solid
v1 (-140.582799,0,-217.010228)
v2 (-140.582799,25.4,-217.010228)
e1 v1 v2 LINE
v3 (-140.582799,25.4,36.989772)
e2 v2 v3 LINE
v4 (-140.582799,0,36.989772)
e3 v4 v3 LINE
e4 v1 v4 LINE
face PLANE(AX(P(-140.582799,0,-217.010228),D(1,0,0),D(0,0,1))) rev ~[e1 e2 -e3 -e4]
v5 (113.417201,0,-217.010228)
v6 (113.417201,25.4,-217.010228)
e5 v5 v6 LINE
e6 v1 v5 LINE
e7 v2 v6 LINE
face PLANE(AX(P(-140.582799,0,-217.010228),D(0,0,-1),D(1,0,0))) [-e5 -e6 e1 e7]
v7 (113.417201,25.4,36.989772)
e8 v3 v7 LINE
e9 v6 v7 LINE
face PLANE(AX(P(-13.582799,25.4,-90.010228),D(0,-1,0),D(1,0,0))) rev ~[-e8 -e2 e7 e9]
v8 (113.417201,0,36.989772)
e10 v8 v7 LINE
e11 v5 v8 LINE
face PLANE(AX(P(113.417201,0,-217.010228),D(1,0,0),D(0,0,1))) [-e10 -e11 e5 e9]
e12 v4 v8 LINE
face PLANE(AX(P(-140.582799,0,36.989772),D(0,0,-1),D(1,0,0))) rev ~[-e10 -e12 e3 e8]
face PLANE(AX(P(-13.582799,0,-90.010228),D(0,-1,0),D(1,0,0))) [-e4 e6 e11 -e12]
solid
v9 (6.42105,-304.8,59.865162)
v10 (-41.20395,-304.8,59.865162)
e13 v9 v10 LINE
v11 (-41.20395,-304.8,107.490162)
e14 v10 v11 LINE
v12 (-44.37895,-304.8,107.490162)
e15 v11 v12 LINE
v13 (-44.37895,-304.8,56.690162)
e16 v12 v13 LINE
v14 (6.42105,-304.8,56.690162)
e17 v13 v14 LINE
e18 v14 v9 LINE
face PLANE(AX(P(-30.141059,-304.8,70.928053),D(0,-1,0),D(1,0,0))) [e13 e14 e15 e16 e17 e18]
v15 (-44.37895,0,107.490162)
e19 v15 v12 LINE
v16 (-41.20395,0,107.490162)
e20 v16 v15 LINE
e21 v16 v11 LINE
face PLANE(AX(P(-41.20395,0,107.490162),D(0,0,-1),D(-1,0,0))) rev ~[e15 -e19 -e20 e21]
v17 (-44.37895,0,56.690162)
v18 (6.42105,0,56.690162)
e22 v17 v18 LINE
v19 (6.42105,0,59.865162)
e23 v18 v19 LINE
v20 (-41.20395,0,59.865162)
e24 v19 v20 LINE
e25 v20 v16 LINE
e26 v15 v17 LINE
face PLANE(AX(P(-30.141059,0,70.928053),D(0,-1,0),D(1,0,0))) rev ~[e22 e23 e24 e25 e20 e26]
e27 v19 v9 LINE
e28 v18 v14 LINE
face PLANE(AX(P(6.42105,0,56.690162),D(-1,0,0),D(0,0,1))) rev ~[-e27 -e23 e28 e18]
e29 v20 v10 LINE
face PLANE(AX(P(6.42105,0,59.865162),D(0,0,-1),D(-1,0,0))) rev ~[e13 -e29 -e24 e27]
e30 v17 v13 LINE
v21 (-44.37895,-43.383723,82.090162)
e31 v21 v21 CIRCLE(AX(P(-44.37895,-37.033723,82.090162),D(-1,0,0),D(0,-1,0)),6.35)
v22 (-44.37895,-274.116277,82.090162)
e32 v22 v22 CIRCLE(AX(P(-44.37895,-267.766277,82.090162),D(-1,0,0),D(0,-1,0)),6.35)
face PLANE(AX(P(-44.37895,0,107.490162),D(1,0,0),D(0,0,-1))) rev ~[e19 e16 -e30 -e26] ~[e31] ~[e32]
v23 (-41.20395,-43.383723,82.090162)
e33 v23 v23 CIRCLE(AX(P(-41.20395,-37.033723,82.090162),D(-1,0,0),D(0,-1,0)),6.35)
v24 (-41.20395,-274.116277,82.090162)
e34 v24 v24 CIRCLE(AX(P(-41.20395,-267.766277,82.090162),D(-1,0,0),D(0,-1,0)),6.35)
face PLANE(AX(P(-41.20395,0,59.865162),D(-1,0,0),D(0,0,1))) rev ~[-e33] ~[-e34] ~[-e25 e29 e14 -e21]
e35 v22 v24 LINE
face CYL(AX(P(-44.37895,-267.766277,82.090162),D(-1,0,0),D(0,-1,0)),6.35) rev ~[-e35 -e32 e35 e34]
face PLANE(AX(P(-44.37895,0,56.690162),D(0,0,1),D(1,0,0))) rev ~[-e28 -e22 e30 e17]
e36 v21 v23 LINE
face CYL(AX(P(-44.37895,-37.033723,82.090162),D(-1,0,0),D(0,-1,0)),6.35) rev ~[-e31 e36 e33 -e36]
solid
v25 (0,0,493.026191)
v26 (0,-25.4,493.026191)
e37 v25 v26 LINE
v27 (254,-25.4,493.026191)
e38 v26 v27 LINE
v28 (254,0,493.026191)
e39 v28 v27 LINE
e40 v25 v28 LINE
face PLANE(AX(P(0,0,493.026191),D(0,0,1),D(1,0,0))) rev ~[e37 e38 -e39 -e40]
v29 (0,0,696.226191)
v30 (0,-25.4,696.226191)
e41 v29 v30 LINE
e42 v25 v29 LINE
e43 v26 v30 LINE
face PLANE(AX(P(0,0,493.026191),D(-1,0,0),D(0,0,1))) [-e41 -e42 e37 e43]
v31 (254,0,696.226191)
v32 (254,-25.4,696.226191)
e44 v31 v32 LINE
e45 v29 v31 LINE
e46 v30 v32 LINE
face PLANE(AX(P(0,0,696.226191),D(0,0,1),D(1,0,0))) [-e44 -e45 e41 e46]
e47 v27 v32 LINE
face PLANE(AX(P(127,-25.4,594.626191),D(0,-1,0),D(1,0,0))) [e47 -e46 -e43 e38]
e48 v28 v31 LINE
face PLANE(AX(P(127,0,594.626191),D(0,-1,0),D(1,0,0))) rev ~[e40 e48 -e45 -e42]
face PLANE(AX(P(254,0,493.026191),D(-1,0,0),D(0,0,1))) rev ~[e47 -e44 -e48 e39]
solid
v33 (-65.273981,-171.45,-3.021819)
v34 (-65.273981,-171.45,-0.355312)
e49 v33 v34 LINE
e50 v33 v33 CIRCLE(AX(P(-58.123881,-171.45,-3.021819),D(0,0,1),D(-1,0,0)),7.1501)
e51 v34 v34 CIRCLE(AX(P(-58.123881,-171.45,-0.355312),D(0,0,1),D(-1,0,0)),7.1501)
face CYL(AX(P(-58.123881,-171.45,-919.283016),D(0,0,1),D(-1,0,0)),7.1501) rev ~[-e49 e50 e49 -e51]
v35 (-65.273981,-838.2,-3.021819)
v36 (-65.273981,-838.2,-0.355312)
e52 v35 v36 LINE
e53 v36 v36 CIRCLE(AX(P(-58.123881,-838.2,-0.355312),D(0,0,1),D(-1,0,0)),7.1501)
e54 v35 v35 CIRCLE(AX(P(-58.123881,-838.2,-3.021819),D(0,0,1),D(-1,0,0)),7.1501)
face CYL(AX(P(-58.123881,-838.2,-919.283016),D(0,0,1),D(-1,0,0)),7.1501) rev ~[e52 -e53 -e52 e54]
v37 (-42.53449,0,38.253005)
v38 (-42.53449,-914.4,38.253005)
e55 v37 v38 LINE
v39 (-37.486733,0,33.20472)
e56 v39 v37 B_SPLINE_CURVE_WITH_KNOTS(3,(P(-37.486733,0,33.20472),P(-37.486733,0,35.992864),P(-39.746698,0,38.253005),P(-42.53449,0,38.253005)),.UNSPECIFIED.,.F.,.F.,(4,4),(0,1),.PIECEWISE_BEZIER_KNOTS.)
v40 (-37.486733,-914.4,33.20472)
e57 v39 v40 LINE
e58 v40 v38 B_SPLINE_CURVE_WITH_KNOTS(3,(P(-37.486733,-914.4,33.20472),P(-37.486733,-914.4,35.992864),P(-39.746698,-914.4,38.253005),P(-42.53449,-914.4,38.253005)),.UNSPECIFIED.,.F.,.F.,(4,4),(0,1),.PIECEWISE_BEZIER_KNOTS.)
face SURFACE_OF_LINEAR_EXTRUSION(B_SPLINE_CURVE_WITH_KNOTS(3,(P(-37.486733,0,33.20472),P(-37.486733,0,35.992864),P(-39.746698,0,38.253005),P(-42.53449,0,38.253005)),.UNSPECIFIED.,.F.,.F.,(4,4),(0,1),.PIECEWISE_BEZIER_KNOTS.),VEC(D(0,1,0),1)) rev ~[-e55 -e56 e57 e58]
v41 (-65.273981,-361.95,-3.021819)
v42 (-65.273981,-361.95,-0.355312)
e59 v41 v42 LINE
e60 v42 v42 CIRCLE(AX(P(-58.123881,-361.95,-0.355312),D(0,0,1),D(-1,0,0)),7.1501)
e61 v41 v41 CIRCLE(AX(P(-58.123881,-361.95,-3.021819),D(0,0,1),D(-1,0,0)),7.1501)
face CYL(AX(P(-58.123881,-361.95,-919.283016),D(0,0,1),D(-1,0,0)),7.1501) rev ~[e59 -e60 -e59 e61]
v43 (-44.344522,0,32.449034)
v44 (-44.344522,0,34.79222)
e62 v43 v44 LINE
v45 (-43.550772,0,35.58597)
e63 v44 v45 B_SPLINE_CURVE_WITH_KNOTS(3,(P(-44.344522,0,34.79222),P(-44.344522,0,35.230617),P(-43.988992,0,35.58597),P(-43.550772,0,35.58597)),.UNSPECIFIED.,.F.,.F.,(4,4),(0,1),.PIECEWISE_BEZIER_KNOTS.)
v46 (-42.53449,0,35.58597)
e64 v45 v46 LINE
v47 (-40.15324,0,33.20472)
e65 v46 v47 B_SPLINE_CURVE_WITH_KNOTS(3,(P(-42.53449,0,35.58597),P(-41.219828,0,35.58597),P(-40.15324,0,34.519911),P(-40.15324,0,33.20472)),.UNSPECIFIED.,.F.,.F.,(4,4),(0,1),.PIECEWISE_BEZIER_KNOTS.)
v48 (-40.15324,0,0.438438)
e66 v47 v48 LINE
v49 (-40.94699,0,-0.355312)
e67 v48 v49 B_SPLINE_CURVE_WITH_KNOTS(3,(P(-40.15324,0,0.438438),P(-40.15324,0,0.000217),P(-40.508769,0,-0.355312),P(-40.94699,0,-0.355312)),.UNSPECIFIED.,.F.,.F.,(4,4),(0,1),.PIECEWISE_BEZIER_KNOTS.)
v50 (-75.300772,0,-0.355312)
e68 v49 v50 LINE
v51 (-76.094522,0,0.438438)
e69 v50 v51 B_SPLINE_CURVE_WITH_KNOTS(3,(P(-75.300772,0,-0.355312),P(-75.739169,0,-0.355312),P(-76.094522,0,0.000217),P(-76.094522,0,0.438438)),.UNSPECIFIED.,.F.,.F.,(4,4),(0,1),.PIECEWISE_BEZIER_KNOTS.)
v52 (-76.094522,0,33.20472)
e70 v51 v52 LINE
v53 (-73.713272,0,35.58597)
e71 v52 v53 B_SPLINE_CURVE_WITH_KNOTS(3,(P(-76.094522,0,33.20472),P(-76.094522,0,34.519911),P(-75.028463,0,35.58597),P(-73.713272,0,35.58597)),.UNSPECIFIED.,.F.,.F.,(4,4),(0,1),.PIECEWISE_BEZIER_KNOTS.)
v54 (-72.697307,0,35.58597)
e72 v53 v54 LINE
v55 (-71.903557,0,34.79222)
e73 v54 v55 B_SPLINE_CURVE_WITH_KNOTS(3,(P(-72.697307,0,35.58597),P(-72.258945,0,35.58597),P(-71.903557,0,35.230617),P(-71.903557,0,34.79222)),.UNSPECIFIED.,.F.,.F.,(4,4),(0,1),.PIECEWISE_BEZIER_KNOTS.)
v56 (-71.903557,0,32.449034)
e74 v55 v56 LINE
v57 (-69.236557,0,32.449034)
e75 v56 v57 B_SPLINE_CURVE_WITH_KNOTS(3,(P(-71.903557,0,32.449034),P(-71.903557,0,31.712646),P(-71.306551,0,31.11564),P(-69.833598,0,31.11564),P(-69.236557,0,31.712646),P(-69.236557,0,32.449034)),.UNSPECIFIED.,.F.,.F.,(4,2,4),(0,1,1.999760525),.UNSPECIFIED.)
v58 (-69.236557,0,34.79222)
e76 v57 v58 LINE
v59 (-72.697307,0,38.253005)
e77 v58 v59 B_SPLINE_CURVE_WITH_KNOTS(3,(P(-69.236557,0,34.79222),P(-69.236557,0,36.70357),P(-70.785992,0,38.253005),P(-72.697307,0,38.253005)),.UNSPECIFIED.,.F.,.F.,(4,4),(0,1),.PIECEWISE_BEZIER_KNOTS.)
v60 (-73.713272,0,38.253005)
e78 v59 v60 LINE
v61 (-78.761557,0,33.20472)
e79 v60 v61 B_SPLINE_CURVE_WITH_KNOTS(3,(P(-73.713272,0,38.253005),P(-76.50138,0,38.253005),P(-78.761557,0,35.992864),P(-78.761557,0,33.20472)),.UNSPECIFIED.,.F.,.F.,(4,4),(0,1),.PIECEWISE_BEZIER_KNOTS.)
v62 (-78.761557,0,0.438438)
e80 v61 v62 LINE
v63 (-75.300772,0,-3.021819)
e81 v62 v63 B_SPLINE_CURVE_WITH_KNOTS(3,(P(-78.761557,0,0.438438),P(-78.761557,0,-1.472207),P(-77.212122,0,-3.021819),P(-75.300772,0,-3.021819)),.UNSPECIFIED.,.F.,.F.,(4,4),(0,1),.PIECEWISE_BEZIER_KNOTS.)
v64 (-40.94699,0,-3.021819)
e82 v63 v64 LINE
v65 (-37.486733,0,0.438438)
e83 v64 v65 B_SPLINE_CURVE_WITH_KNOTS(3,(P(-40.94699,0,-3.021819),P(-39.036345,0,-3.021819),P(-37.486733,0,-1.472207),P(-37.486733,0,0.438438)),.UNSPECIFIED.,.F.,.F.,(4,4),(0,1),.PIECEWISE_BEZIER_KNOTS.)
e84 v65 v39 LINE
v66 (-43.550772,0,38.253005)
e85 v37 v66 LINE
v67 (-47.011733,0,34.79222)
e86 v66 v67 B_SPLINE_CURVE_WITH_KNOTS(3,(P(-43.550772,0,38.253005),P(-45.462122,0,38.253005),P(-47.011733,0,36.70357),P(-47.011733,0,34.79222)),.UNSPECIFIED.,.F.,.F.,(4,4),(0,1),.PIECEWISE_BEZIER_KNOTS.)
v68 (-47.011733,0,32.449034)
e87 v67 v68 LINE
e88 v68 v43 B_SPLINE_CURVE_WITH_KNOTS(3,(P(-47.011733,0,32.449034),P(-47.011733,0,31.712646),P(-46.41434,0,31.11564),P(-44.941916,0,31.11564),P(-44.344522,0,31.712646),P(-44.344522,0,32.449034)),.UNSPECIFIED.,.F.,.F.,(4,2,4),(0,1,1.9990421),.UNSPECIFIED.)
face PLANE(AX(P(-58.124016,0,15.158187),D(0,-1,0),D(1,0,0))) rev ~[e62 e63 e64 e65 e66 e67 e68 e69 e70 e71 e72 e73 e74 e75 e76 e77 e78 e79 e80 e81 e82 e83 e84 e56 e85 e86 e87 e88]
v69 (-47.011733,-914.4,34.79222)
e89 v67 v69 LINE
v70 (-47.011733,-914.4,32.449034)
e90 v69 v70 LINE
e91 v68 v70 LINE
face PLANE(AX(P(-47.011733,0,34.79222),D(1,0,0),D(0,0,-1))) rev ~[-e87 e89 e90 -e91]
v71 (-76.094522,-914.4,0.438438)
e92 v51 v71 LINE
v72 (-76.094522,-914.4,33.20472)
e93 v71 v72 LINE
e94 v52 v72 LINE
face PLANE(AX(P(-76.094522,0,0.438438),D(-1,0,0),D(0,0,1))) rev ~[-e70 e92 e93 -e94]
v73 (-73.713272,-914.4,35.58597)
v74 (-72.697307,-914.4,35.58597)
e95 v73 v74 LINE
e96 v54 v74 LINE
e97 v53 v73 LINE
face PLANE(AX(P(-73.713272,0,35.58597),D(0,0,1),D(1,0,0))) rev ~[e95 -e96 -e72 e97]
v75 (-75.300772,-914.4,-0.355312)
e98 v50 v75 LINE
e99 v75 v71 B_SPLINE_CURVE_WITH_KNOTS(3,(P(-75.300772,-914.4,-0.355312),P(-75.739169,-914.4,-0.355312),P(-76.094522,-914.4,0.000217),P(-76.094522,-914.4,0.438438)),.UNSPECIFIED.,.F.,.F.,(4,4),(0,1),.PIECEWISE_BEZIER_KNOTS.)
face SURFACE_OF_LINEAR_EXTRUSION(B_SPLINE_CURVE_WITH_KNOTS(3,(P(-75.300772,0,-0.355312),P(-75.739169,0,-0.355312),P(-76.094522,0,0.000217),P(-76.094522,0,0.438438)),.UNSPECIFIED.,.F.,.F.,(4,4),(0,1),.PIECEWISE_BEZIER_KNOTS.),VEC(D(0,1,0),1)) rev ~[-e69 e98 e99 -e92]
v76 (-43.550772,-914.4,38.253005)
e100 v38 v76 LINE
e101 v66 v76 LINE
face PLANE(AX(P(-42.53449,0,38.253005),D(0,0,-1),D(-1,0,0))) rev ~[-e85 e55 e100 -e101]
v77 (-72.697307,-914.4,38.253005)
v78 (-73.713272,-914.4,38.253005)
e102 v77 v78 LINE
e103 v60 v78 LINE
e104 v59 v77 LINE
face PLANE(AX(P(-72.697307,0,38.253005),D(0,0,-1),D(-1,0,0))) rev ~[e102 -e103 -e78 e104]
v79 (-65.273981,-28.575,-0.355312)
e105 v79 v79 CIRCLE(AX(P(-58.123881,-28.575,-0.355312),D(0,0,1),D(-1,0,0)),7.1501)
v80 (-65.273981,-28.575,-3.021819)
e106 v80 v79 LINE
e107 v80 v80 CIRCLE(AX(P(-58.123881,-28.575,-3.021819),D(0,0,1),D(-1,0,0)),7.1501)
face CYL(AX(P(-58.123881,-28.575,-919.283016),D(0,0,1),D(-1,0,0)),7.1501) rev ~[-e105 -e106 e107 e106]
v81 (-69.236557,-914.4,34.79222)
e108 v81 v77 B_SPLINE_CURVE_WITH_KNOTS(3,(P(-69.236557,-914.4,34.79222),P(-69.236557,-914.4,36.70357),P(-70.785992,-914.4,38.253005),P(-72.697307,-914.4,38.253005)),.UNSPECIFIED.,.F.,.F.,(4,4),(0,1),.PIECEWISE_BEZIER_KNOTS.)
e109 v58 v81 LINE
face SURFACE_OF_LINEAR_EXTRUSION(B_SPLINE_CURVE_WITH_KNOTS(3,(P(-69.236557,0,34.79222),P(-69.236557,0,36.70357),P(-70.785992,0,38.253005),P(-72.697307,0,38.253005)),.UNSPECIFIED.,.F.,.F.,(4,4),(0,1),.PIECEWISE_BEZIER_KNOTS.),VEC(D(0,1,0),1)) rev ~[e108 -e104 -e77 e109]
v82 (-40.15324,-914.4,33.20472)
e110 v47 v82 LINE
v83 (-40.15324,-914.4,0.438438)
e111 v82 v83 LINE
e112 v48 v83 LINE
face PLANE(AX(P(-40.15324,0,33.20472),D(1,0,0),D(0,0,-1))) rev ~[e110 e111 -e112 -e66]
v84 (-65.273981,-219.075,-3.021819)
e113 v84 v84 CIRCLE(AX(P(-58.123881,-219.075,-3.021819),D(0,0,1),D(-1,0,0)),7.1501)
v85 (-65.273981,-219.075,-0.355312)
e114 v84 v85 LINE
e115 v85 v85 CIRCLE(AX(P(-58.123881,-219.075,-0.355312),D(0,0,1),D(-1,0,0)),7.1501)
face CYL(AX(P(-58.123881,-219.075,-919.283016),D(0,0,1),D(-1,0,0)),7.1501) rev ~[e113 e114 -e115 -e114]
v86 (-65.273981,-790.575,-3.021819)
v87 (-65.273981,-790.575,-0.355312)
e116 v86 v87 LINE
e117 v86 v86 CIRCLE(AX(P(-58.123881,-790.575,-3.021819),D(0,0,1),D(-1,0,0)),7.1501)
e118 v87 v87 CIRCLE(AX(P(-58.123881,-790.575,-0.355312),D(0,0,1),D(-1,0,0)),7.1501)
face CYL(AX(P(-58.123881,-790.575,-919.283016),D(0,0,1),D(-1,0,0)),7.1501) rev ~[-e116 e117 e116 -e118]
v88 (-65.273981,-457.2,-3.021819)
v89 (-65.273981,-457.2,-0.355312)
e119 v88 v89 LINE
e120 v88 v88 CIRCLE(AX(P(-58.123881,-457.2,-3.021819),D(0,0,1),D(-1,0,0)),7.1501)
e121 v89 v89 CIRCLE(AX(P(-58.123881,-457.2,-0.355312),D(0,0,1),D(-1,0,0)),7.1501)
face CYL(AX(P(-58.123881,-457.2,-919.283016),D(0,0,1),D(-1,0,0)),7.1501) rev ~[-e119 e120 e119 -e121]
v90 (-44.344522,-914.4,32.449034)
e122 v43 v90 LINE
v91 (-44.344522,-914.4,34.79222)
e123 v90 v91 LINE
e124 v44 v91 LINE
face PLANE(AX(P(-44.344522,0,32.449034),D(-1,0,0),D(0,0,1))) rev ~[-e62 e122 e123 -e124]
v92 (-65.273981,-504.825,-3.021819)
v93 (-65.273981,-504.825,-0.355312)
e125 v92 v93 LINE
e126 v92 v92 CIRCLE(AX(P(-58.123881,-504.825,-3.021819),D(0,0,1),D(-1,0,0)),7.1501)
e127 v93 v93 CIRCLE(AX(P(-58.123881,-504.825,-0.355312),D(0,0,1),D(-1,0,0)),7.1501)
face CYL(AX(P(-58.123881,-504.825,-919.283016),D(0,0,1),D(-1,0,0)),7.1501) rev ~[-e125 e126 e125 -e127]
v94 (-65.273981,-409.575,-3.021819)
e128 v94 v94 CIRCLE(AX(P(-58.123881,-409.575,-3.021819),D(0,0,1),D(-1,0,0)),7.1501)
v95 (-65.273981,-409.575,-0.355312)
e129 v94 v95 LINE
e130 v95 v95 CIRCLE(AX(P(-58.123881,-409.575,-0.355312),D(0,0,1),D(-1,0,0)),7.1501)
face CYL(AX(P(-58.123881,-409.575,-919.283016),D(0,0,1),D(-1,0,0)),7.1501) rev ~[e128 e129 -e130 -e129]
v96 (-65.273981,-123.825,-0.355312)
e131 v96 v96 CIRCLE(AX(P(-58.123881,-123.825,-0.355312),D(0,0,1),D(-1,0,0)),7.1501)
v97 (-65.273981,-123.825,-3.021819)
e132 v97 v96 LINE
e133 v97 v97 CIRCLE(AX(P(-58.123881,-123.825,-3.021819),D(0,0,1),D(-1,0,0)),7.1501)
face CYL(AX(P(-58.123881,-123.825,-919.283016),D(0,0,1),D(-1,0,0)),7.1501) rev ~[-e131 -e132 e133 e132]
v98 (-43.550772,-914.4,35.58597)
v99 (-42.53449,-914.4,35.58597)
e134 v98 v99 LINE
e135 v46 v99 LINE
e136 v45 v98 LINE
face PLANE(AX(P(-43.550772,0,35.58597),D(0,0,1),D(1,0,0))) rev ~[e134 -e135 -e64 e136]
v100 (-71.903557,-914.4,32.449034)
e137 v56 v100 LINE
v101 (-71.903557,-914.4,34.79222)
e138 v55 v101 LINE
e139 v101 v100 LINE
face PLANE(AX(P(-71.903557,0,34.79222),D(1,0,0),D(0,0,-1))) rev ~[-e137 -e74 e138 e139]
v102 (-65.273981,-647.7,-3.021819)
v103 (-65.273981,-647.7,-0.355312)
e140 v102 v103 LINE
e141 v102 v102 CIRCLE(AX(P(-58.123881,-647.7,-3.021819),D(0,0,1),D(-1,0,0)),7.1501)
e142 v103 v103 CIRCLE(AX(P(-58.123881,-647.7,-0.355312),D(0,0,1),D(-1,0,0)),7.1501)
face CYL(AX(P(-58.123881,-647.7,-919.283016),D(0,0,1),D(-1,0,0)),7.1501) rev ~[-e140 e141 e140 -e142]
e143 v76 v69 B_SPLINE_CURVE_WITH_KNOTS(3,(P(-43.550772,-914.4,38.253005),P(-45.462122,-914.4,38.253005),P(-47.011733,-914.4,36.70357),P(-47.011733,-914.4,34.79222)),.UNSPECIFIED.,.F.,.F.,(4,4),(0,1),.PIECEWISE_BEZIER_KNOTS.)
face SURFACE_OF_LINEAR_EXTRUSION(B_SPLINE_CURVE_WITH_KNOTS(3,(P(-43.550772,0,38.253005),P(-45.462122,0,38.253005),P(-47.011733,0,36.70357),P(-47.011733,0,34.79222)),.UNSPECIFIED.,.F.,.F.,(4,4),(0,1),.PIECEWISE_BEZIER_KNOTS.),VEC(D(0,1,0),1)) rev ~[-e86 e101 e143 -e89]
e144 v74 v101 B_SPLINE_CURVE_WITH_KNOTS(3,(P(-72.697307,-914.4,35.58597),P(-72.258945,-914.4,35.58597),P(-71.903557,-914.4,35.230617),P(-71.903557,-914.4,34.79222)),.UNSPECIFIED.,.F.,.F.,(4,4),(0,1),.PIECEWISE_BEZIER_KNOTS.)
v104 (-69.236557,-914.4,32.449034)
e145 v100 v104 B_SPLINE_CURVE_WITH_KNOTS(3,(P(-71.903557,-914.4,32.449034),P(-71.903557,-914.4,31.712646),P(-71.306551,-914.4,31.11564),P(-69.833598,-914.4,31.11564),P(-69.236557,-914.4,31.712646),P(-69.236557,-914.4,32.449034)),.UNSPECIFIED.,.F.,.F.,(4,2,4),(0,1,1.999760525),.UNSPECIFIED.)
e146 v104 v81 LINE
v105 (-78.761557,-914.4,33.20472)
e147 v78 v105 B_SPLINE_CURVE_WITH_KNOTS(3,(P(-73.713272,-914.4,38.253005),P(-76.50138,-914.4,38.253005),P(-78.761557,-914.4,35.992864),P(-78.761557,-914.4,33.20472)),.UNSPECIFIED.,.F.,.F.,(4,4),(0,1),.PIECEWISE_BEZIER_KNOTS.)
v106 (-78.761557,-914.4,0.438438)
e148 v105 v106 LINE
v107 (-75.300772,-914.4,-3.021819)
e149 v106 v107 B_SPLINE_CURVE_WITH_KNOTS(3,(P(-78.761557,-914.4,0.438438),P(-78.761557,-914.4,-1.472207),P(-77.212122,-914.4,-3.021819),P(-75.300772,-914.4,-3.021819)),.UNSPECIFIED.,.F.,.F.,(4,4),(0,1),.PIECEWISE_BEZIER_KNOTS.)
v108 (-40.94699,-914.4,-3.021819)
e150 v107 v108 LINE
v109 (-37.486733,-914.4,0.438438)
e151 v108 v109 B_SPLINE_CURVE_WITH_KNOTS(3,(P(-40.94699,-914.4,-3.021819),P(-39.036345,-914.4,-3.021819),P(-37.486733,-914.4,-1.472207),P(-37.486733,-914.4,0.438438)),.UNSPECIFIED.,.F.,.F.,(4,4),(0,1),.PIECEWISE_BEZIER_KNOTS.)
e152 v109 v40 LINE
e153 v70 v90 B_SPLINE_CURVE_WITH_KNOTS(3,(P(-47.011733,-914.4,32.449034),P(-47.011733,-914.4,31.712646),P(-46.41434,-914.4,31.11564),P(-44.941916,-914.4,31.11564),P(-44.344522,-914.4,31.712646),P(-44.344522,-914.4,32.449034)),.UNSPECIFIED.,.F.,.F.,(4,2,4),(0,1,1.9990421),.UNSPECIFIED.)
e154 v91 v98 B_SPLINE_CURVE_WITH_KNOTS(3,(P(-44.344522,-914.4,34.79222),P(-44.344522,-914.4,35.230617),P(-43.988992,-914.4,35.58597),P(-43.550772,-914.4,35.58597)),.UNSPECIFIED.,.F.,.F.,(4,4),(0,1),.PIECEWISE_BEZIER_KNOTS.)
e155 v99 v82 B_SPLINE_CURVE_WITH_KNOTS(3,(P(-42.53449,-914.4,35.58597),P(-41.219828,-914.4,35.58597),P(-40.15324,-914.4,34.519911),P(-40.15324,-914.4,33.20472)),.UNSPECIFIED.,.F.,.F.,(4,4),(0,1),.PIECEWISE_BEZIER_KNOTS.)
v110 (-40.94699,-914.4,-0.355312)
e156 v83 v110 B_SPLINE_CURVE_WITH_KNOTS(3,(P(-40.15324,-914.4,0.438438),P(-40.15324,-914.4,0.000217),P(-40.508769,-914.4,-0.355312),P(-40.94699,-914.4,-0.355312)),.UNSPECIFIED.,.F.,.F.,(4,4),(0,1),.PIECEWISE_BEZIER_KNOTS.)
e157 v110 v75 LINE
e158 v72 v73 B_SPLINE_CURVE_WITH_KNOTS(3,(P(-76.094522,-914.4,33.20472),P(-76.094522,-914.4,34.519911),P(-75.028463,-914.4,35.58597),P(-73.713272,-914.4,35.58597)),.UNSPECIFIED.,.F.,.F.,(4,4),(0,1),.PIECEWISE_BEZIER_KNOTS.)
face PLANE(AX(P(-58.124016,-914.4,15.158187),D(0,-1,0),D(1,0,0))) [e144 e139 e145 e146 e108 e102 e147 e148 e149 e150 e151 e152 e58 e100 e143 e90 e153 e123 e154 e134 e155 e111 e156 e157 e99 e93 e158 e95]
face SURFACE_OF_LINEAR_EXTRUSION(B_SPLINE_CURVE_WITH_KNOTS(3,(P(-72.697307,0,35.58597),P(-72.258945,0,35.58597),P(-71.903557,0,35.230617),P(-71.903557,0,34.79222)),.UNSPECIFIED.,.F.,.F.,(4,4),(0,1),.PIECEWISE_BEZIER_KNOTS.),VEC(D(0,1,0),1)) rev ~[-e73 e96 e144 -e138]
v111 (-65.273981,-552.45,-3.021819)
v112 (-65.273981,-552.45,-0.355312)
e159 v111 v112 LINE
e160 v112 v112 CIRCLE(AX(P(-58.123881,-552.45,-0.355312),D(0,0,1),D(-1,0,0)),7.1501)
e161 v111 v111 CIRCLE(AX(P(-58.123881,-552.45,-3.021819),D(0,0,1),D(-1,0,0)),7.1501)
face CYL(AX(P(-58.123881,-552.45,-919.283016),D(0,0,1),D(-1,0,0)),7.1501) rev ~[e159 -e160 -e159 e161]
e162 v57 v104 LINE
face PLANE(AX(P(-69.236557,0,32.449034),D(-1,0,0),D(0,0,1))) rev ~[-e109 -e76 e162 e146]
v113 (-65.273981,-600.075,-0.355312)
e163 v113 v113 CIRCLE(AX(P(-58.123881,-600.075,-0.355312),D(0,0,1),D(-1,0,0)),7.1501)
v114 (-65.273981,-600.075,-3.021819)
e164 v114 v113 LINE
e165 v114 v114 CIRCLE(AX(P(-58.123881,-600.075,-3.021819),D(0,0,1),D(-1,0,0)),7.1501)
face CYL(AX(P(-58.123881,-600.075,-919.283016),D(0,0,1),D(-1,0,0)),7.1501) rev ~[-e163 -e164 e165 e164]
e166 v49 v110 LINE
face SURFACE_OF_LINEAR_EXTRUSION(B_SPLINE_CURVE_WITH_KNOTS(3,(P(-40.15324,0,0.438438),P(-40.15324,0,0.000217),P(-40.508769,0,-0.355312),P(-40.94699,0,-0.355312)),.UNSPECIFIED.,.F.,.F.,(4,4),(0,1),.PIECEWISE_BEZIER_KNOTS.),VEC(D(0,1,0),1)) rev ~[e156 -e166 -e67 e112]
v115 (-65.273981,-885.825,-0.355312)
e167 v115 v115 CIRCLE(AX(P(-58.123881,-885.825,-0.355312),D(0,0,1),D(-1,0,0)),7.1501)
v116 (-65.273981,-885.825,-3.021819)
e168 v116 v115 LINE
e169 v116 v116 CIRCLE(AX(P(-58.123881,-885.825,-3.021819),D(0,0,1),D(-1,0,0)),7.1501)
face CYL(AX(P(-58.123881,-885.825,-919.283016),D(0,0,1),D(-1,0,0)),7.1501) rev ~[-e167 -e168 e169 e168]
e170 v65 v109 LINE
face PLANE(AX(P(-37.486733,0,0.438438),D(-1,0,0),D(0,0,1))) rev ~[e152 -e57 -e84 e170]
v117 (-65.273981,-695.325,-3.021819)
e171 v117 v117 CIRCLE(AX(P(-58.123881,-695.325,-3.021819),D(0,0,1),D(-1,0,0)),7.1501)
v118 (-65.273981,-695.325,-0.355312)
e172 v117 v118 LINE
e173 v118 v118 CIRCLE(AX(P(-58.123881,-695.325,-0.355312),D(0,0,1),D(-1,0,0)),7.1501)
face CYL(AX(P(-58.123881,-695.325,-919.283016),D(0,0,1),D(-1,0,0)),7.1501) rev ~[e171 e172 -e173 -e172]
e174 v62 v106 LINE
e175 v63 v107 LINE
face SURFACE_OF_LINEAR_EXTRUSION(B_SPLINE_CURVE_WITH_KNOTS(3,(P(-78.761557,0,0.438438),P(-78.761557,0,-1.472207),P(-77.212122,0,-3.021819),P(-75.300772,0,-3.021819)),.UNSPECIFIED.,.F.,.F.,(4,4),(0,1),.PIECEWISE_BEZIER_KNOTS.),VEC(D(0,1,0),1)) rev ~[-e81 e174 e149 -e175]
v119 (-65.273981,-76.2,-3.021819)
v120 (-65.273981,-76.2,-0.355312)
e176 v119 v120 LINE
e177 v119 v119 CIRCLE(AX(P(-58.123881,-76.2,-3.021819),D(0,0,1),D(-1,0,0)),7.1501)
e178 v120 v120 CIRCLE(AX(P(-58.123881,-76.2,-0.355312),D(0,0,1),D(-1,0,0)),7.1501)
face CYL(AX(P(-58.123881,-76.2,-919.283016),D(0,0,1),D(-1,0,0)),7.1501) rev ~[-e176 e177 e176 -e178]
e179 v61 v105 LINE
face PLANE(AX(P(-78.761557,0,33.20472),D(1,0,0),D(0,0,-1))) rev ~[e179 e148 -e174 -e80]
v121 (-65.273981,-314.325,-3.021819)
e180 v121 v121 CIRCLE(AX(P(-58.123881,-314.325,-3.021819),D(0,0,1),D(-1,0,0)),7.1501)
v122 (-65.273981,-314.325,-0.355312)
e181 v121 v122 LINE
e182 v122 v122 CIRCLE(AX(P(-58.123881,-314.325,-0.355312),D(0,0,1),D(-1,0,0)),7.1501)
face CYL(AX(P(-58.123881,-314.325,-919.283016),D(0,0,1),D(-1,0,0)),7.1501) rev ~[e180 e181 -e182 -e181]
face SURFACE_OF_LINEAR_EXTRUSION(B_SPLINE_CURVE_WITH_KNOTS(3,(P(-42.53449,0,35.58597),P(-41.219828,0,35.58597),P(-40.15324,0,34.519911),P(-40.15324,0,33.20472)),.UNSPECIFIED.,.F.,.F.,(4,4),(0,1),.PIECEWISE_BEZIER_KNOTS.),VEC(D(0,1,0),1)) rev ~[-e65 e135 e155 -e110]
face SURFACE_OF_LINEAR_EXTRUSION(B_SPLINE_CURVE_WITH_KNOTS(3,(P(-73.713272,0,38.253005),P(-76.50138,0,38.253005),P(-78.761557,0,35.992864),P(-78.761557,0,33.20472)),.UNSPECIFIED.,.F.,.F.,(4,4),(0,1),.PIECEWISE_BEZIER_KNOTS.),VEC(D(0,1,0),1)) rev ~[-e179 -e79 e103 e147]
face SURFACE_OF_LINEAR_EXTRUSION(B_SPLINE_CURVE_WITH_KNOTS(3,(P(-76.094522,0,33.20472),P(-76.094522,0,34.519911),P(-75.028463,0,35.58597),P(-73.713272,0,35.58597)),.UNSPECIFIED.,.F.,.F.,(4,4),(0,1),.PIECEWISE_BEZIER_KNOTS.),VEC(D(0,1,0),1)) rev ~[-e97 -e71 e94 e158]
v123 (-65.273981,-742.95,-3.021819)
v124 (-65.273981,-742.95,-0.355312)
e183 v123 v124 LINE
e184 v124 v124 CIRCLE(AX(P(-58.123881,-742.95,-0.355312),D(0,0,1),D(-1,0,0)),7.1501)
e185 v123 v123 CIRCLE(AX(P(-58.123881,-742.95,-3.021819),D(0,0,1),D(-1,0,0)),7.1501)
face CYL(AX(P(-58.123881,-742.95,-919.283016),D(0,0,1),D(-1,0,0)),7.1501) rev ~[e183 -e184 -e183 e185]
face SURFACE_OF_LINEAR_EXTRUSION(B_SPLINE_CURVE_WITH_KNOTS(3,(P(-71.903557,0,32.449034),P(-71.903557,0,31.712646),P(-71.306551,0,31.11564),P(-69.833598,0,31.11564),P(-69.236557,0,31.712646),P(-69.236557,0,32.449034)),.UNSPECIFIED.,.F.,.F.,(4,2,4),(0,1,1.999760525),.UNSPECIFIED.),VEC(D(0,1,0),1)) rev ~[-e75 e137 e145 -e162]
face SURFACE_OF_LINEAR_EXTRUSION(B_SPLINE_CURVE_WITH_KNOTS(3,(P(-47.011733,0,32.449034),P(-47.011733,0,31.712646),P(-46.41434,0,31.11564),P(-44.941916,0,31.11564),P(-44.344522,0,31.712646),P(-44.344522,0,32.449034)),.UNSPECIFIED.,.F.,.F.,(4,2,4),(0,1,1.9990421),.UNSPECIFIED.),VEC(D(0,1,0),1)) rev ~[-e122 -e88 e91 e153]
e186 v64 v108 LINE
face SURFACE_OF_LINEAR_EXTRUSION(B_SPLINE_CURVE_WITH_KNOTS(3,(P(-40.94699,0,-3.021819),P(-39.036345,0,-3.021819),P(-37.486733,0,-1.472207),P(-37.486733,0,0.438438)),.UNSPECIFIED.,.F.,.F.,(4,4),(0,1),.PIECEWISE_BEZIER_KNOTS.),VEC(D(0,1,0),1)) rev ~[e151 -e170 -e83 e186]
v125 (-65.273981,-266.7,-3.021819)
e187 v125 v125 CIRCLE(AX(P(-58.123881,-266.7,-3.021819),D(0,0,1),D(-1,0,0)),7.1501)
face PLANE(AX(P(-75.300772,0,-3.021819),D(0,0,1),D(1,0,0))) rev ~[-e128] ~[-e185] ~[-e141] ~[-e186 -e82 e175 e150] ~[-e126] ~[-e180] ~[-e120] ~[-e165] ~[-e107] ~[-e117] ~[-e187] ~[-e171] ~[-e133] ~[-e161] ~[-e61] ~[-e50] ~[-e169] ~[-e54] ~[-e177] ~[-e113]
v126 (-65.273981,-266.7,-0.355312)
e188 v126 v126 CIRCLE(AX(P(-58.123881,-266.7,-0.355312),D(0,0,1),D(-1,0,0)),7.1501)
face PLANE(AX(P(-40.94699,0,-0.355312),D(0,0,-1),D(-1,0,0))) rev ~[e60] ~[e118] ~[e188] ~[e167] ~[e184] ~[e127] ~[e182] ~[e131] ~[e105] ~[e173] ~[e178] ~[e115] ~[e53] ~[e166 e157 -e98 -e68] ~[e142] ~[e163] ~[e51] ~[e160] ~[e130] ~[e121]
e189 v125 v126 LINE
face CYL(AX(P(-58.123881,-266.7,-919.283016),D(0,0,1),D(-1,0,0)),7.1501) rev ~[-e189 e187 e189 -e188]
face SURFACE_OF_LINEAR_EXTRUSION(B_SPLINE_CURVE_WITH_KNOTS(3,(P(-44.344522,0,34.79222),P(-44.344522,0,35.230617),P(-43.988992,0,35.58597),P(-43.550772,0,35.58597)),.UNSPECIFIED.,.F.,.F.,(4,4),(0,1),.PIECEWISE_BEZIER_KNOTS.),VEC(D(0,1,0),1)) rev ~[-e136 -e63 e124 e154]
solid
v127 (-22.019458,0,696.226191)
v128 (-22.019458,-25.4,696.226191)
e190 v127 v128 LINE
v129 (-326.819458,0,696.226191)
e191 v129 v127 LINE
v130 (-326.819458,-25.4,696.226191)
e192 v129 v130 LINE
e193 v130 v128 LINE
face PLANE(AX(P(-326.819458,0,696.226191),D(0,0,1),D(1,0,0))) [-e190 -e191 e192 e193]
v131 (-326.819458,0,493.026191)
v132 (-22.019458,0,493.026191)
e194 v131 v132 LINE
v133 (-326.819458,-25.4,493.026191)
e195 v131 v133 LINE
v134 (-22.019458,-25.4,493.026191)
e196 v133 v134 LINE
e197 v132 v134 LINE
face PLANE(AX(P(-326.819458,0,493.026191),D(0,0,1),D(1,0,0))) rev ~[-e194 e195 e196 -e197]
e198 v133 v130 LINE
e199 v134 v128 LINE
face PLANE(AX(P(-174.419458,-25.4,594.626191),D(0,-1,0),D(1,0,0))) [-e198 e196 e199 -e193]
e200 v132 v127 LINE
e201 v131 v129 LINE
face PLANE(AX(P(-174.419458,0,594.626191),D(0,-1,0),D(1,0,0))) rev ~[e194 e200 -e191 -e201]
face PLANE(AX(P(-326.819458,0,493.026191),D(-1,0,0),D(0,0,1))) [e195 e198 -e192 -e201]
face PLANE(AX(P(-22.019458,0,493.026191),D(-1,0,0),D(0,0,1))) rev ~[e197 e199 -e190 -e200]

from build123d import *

# Parameters (mm, degrees)
F1_DEPTH  = 914.4
F3_D      = 14.3002
F4_W      = 254
F4_H      = 254
F5_DEPTH  = 25.4
F6_W      = 304.8
F6_H      = 203.2
F7_DEPTH  = 25.4
F6_W_2    = 254
F9_DEPTH  = 304.8
F10_R     = 6.35
F11_DEPTH = 298.3799499484


with BuildPart() as f1:
    # F0 (on Front) → F1 (new body)
    with BuildSketch(Plane.XZ):
        with BuildLine():
            add(Edge.make_bspline(
                [(-43.5507717685, 38.2530050192), (-45.4621217685, 38.2530050192), (-47.0117334351, 36.7035697414), (-47.0117334351, 34.7922197414)],
                knots=[0, 0, 0, 0, 1, 1, 1, 1], degree=3))
            Line((-47.0117334351, 34.7922197414), (-47.0117334351, 32.4490344637))
            add(Edge.make_bspline(
                [(-47.0117334351, 32.4490344639), (-47.0117334351, 31.7126461306), (-46.4143395462, 31.1156402972), (-45.677774824, 31.1156402972)],
                knots=[0, 0, 0, 0, 1, 1, 1, 1], degree=3))
            add(Edge.make_bspline(
                [(-45.677774824, 31.1156402972), (-44.9419156573, 31.1156402972), (-44.3445217684, 31.7126461306), (-44.3445217684, 32.4490344639)],
                knots=[0, 0, 0, 0, 1, 1, 1, 1], degree=3))
            Line((-44.3445217684, 32.4490344639), (-44.3445217684, 34.7922197414))
            add(Edge.make_bspline(
                [(-44.3445217684, 34.7922197414), (-44.3445217684, 35.2306166859), (-43.988992324, 35.5859697414), (-43.5507717684, 35.5859697414)],
                knots=[0, 0, 0, 0, 1, 1, 1, 1], degree=3))
            Line((-43.5507717687, 35.5859697414), (-42.5344895465, 35.5859697414))
            add(Edge.make_bspline(
                [(-42.5344895465, 35.5859697414), (-41.2198278798, 35.5859697414), (-40.1532395465, 34.5199105748), (-40.1532395465, 33.2047197414)],
                knots=[0, 0, 0, 0, 1, 1, 1, 1], degree=3))
            Line((-40.1532395465, 33.2047197414), (-40.1532395462, 0.438437519))
            add(Edge.make_bspline(
                [(-40.1532395462, 0.4384375192), (-40.1532395462, 0.0002169637), (-40.5087689907, -0.3553124808), (-40.9469895462, -0.3553124808)],
                knots=[0, 0, 0, 0, 1, 1, 1, 1], degree=3))
            Line((-40.9469895462, -0.3553124808), (-75.3007717687, -0.3553124808))
            add(Edge.make_bspline(
                [(-75.3007717687, -0.3553124808), (-75.7391687134, -0.3553124808), (-76.094521769, 0.0002169637), (-76.094521769, 0.4384375192)],
                knots=[0, 0, 0, 0, 1, 1, 1, 1], degree=3))
            Line((-76.094521769, 0.4384375192), (-76.094521769, 33.2047197412))
            add(Edge.make_bspline(
                [(-76.094521769, 33.2047197412), (-76.094521769, 34.5199105745), (-75.0284626018, 35.5859697412), (-73.7132717685, 35.5859697412)],
                knots=[0, 0, 0, 0, 1, 1, 1, 1], degree=3))
            Line((-73.7132717685, 35.5859697412), (-72.6973070465, 35.5859697412))
            add(Edge.make_bspline(
                [(-72.6973070465, 35.5859697412), (-72.2589453798, 35.5859697412), (-71.9035570465, 35.2306166856), (-71.9035570465, 34.7922197412)],
                knots=[0, 0, 0, 0, 1, 1, 1, 1], degree=3))
            Line((-71.9035570465, 34.7922197412), (-71.9035570465, 32.4490344637))
            add(Edge.make_bspline(
                [(-71.9035570465, 32.4490344637), (-71.9035570465, 31.7126461303), (-71.3065512132, 31.115640297), (-70.5699864909, 31.115640297)],
                knots=[0, 0, 0, 0, 1, 1, 1, 1], degree=3))
            add(Edge.make_bspline(
                [(-70.5699864909, 31.115640297), (-69.8335981576, 31.115640297), (-69.2365570465, 31.7126461303), (-69.2365570465, 32.4490344637)],
                knots=[0, 0, 0, 0, 1, 1, 1, 1], degree=3))
            Line((-69.2365570465, 32.4490344634), (-69.2365570465, 34.7922197414))
            add(Edge.make_bspline(
                [(-69.2365570465, 34.7922197414), (-69.2365570465, 36.7035697414), (-70.7859923243, 38.2530050192), (-72.6973070465, 38.2530050192)],
                knots=[0, 0, 0, 0, 1, 1, 1, 1], degree=3))
            Line((-72.6973070465, 38.2530050192), (-73.7132717685, 38.2530050192))
            add(Edge.make_bspline(
                [(-73.7132717685, 38.2530050192), (-76.5013803801, 38.2530050192), (-78.7615570467, 35.9928636303), (-78.7615570467, 33.2047197414)],
                knots=[0, 0, 0, 0, 1, 1, 1, 1], degree=3))
            Line((-78.7615570467, 33.2047197414), (-78.7615570467, 0.4384375195))
            add(Edge.make_bspline(
                [(-78.7615570467, 0.4384375195), (-78.7615570467, -1.472206925), (-77.212121769, -3.0218185919), (-75.3007717687, -3.0218185919)],
                knots=[0, 0, 0, 0, 1, 1, 1, 1], degree=3))
            Line((-75.300771769, -3.0218185922), (-40.9469895467, -3.0218185922))
            add(Edge.make_bspline(
                [(-40.9469895465, -3.0218185922), (-39.036345102, -3.0218185922), (-37.4867334354, -1.4722069252), (-37.4867334354, 0.4384375192)],
                knots=[0, 0, 0, 0, 1, 1, 1, 1], degree=3))
            Line((-37.4867334354, 0.4384375192), (-37.4867334354, 33.2047197414))
            add(Edge.make_bspline(
                [(-37.4867334354, 33.2047197414), (-37.4867334354, 35.9928636303), (-39.7466984354, 38.2530050192), (-42.5344895465, 38.2530050192)],
                knots=[0, 0, 0, 0, 1, 1, 1, 1], degree=3))
            Line((-42.5344895465, 38.2530050192), (-43.5507717685, 38.2530050192))
        make_face()
    extrude(amount=F1_DEPTH)

    # F3 (through all)
    with Locations(Plane(origin=(0, 0, -3.0218185922), x_dir=(1, 0, 0), z_dir=(0, 0, -1))):
        with Locations((-58.1238806577, 885.825), (-58.1238806577, 838.2), (-58.1238806577, 790.575), (-58.1238806577, 742.95), (-58.1238806577, 695.325), (-58.1238806577, 647.7), (-58.1238806577, 600.075), (-58.1238806577, 552.45), (-58.1238806577, 504.825), (-58.1238806577, 457.2), (-58.1238806577, 409.575), (-58.1238806577, 361.95), (-58.1238806577, 314.325), (-58.1238806577, 266.7), (-58.1238806577, 219.075), (-58.1238806577, 171.45), (-58.1238806577, 123.825), (-58.1238806577, 76.2), (-58.1238806577, 28.575)):
            Hole(F3_D / 2)


with BuildPart() as f5:
    # F4 (on Front) → F5 (new body)
    with BuildSketch(Plane.XZ):
        with Locations((-13.5827994868, -90.0102279425)):
            Rectangle(F4_W, F4_H)
    extrude(amount=-F5_DEPTH)


with BuildPart() as f7:
    # F6 (on Front) → F7 (new body)
    with BuildSketch(Plane.XZ):
        with Locations((-174.4194579414, 594.6261911135)):
            Rectangle(F6_W, F6_H)
    extrude(amount=F7_DEPTH)


with BuildPart() as f7b:
    # F6 (on Front) → F7, piece 2 (new body)
    with BuildSketch(Plane.XZ):
        with Locations((127, 594.6261911135)):
            Rectangle(F6_W_2, F6_H)
    extrude(amount=F7_DEPTH)


with BuildPart() as f9:
    # F8 (on Front) → F9 (new body)
    with BuildSketch(Plane.XZ):
        Polygon((-44.3789499484, 56.6901619234), (6.4210500516, 56.6901619234), (6.4210500516, 59.8651619234), (-41.2039499484, 59.8651619234), (-41.2039499484, 107.4901619234), (-44.3789499484, 107.4901619234), align=None)
    extrude(amount=F9_DEPTH)

    # F10 (on face) → F11 (cut, through all)
    with BuildSketch(Plane(origin=(-44.3789499484, 0, 0), x_dir=(0, -1, 0), z_dir=(-1, 0, 0))):
        with Locations((37.0337226301, 82.0901619234)):
            Circle(F10_R)
        with Locations((267.7662773699, 82.0901619234)):
            Circle(F10_R)
    extrude(amount=-F11_DEPTH, mode=Mode.SUBTRACT)


solid = Compound([f1.part, f5.part, f7.part, f7b.part, f9.part])
